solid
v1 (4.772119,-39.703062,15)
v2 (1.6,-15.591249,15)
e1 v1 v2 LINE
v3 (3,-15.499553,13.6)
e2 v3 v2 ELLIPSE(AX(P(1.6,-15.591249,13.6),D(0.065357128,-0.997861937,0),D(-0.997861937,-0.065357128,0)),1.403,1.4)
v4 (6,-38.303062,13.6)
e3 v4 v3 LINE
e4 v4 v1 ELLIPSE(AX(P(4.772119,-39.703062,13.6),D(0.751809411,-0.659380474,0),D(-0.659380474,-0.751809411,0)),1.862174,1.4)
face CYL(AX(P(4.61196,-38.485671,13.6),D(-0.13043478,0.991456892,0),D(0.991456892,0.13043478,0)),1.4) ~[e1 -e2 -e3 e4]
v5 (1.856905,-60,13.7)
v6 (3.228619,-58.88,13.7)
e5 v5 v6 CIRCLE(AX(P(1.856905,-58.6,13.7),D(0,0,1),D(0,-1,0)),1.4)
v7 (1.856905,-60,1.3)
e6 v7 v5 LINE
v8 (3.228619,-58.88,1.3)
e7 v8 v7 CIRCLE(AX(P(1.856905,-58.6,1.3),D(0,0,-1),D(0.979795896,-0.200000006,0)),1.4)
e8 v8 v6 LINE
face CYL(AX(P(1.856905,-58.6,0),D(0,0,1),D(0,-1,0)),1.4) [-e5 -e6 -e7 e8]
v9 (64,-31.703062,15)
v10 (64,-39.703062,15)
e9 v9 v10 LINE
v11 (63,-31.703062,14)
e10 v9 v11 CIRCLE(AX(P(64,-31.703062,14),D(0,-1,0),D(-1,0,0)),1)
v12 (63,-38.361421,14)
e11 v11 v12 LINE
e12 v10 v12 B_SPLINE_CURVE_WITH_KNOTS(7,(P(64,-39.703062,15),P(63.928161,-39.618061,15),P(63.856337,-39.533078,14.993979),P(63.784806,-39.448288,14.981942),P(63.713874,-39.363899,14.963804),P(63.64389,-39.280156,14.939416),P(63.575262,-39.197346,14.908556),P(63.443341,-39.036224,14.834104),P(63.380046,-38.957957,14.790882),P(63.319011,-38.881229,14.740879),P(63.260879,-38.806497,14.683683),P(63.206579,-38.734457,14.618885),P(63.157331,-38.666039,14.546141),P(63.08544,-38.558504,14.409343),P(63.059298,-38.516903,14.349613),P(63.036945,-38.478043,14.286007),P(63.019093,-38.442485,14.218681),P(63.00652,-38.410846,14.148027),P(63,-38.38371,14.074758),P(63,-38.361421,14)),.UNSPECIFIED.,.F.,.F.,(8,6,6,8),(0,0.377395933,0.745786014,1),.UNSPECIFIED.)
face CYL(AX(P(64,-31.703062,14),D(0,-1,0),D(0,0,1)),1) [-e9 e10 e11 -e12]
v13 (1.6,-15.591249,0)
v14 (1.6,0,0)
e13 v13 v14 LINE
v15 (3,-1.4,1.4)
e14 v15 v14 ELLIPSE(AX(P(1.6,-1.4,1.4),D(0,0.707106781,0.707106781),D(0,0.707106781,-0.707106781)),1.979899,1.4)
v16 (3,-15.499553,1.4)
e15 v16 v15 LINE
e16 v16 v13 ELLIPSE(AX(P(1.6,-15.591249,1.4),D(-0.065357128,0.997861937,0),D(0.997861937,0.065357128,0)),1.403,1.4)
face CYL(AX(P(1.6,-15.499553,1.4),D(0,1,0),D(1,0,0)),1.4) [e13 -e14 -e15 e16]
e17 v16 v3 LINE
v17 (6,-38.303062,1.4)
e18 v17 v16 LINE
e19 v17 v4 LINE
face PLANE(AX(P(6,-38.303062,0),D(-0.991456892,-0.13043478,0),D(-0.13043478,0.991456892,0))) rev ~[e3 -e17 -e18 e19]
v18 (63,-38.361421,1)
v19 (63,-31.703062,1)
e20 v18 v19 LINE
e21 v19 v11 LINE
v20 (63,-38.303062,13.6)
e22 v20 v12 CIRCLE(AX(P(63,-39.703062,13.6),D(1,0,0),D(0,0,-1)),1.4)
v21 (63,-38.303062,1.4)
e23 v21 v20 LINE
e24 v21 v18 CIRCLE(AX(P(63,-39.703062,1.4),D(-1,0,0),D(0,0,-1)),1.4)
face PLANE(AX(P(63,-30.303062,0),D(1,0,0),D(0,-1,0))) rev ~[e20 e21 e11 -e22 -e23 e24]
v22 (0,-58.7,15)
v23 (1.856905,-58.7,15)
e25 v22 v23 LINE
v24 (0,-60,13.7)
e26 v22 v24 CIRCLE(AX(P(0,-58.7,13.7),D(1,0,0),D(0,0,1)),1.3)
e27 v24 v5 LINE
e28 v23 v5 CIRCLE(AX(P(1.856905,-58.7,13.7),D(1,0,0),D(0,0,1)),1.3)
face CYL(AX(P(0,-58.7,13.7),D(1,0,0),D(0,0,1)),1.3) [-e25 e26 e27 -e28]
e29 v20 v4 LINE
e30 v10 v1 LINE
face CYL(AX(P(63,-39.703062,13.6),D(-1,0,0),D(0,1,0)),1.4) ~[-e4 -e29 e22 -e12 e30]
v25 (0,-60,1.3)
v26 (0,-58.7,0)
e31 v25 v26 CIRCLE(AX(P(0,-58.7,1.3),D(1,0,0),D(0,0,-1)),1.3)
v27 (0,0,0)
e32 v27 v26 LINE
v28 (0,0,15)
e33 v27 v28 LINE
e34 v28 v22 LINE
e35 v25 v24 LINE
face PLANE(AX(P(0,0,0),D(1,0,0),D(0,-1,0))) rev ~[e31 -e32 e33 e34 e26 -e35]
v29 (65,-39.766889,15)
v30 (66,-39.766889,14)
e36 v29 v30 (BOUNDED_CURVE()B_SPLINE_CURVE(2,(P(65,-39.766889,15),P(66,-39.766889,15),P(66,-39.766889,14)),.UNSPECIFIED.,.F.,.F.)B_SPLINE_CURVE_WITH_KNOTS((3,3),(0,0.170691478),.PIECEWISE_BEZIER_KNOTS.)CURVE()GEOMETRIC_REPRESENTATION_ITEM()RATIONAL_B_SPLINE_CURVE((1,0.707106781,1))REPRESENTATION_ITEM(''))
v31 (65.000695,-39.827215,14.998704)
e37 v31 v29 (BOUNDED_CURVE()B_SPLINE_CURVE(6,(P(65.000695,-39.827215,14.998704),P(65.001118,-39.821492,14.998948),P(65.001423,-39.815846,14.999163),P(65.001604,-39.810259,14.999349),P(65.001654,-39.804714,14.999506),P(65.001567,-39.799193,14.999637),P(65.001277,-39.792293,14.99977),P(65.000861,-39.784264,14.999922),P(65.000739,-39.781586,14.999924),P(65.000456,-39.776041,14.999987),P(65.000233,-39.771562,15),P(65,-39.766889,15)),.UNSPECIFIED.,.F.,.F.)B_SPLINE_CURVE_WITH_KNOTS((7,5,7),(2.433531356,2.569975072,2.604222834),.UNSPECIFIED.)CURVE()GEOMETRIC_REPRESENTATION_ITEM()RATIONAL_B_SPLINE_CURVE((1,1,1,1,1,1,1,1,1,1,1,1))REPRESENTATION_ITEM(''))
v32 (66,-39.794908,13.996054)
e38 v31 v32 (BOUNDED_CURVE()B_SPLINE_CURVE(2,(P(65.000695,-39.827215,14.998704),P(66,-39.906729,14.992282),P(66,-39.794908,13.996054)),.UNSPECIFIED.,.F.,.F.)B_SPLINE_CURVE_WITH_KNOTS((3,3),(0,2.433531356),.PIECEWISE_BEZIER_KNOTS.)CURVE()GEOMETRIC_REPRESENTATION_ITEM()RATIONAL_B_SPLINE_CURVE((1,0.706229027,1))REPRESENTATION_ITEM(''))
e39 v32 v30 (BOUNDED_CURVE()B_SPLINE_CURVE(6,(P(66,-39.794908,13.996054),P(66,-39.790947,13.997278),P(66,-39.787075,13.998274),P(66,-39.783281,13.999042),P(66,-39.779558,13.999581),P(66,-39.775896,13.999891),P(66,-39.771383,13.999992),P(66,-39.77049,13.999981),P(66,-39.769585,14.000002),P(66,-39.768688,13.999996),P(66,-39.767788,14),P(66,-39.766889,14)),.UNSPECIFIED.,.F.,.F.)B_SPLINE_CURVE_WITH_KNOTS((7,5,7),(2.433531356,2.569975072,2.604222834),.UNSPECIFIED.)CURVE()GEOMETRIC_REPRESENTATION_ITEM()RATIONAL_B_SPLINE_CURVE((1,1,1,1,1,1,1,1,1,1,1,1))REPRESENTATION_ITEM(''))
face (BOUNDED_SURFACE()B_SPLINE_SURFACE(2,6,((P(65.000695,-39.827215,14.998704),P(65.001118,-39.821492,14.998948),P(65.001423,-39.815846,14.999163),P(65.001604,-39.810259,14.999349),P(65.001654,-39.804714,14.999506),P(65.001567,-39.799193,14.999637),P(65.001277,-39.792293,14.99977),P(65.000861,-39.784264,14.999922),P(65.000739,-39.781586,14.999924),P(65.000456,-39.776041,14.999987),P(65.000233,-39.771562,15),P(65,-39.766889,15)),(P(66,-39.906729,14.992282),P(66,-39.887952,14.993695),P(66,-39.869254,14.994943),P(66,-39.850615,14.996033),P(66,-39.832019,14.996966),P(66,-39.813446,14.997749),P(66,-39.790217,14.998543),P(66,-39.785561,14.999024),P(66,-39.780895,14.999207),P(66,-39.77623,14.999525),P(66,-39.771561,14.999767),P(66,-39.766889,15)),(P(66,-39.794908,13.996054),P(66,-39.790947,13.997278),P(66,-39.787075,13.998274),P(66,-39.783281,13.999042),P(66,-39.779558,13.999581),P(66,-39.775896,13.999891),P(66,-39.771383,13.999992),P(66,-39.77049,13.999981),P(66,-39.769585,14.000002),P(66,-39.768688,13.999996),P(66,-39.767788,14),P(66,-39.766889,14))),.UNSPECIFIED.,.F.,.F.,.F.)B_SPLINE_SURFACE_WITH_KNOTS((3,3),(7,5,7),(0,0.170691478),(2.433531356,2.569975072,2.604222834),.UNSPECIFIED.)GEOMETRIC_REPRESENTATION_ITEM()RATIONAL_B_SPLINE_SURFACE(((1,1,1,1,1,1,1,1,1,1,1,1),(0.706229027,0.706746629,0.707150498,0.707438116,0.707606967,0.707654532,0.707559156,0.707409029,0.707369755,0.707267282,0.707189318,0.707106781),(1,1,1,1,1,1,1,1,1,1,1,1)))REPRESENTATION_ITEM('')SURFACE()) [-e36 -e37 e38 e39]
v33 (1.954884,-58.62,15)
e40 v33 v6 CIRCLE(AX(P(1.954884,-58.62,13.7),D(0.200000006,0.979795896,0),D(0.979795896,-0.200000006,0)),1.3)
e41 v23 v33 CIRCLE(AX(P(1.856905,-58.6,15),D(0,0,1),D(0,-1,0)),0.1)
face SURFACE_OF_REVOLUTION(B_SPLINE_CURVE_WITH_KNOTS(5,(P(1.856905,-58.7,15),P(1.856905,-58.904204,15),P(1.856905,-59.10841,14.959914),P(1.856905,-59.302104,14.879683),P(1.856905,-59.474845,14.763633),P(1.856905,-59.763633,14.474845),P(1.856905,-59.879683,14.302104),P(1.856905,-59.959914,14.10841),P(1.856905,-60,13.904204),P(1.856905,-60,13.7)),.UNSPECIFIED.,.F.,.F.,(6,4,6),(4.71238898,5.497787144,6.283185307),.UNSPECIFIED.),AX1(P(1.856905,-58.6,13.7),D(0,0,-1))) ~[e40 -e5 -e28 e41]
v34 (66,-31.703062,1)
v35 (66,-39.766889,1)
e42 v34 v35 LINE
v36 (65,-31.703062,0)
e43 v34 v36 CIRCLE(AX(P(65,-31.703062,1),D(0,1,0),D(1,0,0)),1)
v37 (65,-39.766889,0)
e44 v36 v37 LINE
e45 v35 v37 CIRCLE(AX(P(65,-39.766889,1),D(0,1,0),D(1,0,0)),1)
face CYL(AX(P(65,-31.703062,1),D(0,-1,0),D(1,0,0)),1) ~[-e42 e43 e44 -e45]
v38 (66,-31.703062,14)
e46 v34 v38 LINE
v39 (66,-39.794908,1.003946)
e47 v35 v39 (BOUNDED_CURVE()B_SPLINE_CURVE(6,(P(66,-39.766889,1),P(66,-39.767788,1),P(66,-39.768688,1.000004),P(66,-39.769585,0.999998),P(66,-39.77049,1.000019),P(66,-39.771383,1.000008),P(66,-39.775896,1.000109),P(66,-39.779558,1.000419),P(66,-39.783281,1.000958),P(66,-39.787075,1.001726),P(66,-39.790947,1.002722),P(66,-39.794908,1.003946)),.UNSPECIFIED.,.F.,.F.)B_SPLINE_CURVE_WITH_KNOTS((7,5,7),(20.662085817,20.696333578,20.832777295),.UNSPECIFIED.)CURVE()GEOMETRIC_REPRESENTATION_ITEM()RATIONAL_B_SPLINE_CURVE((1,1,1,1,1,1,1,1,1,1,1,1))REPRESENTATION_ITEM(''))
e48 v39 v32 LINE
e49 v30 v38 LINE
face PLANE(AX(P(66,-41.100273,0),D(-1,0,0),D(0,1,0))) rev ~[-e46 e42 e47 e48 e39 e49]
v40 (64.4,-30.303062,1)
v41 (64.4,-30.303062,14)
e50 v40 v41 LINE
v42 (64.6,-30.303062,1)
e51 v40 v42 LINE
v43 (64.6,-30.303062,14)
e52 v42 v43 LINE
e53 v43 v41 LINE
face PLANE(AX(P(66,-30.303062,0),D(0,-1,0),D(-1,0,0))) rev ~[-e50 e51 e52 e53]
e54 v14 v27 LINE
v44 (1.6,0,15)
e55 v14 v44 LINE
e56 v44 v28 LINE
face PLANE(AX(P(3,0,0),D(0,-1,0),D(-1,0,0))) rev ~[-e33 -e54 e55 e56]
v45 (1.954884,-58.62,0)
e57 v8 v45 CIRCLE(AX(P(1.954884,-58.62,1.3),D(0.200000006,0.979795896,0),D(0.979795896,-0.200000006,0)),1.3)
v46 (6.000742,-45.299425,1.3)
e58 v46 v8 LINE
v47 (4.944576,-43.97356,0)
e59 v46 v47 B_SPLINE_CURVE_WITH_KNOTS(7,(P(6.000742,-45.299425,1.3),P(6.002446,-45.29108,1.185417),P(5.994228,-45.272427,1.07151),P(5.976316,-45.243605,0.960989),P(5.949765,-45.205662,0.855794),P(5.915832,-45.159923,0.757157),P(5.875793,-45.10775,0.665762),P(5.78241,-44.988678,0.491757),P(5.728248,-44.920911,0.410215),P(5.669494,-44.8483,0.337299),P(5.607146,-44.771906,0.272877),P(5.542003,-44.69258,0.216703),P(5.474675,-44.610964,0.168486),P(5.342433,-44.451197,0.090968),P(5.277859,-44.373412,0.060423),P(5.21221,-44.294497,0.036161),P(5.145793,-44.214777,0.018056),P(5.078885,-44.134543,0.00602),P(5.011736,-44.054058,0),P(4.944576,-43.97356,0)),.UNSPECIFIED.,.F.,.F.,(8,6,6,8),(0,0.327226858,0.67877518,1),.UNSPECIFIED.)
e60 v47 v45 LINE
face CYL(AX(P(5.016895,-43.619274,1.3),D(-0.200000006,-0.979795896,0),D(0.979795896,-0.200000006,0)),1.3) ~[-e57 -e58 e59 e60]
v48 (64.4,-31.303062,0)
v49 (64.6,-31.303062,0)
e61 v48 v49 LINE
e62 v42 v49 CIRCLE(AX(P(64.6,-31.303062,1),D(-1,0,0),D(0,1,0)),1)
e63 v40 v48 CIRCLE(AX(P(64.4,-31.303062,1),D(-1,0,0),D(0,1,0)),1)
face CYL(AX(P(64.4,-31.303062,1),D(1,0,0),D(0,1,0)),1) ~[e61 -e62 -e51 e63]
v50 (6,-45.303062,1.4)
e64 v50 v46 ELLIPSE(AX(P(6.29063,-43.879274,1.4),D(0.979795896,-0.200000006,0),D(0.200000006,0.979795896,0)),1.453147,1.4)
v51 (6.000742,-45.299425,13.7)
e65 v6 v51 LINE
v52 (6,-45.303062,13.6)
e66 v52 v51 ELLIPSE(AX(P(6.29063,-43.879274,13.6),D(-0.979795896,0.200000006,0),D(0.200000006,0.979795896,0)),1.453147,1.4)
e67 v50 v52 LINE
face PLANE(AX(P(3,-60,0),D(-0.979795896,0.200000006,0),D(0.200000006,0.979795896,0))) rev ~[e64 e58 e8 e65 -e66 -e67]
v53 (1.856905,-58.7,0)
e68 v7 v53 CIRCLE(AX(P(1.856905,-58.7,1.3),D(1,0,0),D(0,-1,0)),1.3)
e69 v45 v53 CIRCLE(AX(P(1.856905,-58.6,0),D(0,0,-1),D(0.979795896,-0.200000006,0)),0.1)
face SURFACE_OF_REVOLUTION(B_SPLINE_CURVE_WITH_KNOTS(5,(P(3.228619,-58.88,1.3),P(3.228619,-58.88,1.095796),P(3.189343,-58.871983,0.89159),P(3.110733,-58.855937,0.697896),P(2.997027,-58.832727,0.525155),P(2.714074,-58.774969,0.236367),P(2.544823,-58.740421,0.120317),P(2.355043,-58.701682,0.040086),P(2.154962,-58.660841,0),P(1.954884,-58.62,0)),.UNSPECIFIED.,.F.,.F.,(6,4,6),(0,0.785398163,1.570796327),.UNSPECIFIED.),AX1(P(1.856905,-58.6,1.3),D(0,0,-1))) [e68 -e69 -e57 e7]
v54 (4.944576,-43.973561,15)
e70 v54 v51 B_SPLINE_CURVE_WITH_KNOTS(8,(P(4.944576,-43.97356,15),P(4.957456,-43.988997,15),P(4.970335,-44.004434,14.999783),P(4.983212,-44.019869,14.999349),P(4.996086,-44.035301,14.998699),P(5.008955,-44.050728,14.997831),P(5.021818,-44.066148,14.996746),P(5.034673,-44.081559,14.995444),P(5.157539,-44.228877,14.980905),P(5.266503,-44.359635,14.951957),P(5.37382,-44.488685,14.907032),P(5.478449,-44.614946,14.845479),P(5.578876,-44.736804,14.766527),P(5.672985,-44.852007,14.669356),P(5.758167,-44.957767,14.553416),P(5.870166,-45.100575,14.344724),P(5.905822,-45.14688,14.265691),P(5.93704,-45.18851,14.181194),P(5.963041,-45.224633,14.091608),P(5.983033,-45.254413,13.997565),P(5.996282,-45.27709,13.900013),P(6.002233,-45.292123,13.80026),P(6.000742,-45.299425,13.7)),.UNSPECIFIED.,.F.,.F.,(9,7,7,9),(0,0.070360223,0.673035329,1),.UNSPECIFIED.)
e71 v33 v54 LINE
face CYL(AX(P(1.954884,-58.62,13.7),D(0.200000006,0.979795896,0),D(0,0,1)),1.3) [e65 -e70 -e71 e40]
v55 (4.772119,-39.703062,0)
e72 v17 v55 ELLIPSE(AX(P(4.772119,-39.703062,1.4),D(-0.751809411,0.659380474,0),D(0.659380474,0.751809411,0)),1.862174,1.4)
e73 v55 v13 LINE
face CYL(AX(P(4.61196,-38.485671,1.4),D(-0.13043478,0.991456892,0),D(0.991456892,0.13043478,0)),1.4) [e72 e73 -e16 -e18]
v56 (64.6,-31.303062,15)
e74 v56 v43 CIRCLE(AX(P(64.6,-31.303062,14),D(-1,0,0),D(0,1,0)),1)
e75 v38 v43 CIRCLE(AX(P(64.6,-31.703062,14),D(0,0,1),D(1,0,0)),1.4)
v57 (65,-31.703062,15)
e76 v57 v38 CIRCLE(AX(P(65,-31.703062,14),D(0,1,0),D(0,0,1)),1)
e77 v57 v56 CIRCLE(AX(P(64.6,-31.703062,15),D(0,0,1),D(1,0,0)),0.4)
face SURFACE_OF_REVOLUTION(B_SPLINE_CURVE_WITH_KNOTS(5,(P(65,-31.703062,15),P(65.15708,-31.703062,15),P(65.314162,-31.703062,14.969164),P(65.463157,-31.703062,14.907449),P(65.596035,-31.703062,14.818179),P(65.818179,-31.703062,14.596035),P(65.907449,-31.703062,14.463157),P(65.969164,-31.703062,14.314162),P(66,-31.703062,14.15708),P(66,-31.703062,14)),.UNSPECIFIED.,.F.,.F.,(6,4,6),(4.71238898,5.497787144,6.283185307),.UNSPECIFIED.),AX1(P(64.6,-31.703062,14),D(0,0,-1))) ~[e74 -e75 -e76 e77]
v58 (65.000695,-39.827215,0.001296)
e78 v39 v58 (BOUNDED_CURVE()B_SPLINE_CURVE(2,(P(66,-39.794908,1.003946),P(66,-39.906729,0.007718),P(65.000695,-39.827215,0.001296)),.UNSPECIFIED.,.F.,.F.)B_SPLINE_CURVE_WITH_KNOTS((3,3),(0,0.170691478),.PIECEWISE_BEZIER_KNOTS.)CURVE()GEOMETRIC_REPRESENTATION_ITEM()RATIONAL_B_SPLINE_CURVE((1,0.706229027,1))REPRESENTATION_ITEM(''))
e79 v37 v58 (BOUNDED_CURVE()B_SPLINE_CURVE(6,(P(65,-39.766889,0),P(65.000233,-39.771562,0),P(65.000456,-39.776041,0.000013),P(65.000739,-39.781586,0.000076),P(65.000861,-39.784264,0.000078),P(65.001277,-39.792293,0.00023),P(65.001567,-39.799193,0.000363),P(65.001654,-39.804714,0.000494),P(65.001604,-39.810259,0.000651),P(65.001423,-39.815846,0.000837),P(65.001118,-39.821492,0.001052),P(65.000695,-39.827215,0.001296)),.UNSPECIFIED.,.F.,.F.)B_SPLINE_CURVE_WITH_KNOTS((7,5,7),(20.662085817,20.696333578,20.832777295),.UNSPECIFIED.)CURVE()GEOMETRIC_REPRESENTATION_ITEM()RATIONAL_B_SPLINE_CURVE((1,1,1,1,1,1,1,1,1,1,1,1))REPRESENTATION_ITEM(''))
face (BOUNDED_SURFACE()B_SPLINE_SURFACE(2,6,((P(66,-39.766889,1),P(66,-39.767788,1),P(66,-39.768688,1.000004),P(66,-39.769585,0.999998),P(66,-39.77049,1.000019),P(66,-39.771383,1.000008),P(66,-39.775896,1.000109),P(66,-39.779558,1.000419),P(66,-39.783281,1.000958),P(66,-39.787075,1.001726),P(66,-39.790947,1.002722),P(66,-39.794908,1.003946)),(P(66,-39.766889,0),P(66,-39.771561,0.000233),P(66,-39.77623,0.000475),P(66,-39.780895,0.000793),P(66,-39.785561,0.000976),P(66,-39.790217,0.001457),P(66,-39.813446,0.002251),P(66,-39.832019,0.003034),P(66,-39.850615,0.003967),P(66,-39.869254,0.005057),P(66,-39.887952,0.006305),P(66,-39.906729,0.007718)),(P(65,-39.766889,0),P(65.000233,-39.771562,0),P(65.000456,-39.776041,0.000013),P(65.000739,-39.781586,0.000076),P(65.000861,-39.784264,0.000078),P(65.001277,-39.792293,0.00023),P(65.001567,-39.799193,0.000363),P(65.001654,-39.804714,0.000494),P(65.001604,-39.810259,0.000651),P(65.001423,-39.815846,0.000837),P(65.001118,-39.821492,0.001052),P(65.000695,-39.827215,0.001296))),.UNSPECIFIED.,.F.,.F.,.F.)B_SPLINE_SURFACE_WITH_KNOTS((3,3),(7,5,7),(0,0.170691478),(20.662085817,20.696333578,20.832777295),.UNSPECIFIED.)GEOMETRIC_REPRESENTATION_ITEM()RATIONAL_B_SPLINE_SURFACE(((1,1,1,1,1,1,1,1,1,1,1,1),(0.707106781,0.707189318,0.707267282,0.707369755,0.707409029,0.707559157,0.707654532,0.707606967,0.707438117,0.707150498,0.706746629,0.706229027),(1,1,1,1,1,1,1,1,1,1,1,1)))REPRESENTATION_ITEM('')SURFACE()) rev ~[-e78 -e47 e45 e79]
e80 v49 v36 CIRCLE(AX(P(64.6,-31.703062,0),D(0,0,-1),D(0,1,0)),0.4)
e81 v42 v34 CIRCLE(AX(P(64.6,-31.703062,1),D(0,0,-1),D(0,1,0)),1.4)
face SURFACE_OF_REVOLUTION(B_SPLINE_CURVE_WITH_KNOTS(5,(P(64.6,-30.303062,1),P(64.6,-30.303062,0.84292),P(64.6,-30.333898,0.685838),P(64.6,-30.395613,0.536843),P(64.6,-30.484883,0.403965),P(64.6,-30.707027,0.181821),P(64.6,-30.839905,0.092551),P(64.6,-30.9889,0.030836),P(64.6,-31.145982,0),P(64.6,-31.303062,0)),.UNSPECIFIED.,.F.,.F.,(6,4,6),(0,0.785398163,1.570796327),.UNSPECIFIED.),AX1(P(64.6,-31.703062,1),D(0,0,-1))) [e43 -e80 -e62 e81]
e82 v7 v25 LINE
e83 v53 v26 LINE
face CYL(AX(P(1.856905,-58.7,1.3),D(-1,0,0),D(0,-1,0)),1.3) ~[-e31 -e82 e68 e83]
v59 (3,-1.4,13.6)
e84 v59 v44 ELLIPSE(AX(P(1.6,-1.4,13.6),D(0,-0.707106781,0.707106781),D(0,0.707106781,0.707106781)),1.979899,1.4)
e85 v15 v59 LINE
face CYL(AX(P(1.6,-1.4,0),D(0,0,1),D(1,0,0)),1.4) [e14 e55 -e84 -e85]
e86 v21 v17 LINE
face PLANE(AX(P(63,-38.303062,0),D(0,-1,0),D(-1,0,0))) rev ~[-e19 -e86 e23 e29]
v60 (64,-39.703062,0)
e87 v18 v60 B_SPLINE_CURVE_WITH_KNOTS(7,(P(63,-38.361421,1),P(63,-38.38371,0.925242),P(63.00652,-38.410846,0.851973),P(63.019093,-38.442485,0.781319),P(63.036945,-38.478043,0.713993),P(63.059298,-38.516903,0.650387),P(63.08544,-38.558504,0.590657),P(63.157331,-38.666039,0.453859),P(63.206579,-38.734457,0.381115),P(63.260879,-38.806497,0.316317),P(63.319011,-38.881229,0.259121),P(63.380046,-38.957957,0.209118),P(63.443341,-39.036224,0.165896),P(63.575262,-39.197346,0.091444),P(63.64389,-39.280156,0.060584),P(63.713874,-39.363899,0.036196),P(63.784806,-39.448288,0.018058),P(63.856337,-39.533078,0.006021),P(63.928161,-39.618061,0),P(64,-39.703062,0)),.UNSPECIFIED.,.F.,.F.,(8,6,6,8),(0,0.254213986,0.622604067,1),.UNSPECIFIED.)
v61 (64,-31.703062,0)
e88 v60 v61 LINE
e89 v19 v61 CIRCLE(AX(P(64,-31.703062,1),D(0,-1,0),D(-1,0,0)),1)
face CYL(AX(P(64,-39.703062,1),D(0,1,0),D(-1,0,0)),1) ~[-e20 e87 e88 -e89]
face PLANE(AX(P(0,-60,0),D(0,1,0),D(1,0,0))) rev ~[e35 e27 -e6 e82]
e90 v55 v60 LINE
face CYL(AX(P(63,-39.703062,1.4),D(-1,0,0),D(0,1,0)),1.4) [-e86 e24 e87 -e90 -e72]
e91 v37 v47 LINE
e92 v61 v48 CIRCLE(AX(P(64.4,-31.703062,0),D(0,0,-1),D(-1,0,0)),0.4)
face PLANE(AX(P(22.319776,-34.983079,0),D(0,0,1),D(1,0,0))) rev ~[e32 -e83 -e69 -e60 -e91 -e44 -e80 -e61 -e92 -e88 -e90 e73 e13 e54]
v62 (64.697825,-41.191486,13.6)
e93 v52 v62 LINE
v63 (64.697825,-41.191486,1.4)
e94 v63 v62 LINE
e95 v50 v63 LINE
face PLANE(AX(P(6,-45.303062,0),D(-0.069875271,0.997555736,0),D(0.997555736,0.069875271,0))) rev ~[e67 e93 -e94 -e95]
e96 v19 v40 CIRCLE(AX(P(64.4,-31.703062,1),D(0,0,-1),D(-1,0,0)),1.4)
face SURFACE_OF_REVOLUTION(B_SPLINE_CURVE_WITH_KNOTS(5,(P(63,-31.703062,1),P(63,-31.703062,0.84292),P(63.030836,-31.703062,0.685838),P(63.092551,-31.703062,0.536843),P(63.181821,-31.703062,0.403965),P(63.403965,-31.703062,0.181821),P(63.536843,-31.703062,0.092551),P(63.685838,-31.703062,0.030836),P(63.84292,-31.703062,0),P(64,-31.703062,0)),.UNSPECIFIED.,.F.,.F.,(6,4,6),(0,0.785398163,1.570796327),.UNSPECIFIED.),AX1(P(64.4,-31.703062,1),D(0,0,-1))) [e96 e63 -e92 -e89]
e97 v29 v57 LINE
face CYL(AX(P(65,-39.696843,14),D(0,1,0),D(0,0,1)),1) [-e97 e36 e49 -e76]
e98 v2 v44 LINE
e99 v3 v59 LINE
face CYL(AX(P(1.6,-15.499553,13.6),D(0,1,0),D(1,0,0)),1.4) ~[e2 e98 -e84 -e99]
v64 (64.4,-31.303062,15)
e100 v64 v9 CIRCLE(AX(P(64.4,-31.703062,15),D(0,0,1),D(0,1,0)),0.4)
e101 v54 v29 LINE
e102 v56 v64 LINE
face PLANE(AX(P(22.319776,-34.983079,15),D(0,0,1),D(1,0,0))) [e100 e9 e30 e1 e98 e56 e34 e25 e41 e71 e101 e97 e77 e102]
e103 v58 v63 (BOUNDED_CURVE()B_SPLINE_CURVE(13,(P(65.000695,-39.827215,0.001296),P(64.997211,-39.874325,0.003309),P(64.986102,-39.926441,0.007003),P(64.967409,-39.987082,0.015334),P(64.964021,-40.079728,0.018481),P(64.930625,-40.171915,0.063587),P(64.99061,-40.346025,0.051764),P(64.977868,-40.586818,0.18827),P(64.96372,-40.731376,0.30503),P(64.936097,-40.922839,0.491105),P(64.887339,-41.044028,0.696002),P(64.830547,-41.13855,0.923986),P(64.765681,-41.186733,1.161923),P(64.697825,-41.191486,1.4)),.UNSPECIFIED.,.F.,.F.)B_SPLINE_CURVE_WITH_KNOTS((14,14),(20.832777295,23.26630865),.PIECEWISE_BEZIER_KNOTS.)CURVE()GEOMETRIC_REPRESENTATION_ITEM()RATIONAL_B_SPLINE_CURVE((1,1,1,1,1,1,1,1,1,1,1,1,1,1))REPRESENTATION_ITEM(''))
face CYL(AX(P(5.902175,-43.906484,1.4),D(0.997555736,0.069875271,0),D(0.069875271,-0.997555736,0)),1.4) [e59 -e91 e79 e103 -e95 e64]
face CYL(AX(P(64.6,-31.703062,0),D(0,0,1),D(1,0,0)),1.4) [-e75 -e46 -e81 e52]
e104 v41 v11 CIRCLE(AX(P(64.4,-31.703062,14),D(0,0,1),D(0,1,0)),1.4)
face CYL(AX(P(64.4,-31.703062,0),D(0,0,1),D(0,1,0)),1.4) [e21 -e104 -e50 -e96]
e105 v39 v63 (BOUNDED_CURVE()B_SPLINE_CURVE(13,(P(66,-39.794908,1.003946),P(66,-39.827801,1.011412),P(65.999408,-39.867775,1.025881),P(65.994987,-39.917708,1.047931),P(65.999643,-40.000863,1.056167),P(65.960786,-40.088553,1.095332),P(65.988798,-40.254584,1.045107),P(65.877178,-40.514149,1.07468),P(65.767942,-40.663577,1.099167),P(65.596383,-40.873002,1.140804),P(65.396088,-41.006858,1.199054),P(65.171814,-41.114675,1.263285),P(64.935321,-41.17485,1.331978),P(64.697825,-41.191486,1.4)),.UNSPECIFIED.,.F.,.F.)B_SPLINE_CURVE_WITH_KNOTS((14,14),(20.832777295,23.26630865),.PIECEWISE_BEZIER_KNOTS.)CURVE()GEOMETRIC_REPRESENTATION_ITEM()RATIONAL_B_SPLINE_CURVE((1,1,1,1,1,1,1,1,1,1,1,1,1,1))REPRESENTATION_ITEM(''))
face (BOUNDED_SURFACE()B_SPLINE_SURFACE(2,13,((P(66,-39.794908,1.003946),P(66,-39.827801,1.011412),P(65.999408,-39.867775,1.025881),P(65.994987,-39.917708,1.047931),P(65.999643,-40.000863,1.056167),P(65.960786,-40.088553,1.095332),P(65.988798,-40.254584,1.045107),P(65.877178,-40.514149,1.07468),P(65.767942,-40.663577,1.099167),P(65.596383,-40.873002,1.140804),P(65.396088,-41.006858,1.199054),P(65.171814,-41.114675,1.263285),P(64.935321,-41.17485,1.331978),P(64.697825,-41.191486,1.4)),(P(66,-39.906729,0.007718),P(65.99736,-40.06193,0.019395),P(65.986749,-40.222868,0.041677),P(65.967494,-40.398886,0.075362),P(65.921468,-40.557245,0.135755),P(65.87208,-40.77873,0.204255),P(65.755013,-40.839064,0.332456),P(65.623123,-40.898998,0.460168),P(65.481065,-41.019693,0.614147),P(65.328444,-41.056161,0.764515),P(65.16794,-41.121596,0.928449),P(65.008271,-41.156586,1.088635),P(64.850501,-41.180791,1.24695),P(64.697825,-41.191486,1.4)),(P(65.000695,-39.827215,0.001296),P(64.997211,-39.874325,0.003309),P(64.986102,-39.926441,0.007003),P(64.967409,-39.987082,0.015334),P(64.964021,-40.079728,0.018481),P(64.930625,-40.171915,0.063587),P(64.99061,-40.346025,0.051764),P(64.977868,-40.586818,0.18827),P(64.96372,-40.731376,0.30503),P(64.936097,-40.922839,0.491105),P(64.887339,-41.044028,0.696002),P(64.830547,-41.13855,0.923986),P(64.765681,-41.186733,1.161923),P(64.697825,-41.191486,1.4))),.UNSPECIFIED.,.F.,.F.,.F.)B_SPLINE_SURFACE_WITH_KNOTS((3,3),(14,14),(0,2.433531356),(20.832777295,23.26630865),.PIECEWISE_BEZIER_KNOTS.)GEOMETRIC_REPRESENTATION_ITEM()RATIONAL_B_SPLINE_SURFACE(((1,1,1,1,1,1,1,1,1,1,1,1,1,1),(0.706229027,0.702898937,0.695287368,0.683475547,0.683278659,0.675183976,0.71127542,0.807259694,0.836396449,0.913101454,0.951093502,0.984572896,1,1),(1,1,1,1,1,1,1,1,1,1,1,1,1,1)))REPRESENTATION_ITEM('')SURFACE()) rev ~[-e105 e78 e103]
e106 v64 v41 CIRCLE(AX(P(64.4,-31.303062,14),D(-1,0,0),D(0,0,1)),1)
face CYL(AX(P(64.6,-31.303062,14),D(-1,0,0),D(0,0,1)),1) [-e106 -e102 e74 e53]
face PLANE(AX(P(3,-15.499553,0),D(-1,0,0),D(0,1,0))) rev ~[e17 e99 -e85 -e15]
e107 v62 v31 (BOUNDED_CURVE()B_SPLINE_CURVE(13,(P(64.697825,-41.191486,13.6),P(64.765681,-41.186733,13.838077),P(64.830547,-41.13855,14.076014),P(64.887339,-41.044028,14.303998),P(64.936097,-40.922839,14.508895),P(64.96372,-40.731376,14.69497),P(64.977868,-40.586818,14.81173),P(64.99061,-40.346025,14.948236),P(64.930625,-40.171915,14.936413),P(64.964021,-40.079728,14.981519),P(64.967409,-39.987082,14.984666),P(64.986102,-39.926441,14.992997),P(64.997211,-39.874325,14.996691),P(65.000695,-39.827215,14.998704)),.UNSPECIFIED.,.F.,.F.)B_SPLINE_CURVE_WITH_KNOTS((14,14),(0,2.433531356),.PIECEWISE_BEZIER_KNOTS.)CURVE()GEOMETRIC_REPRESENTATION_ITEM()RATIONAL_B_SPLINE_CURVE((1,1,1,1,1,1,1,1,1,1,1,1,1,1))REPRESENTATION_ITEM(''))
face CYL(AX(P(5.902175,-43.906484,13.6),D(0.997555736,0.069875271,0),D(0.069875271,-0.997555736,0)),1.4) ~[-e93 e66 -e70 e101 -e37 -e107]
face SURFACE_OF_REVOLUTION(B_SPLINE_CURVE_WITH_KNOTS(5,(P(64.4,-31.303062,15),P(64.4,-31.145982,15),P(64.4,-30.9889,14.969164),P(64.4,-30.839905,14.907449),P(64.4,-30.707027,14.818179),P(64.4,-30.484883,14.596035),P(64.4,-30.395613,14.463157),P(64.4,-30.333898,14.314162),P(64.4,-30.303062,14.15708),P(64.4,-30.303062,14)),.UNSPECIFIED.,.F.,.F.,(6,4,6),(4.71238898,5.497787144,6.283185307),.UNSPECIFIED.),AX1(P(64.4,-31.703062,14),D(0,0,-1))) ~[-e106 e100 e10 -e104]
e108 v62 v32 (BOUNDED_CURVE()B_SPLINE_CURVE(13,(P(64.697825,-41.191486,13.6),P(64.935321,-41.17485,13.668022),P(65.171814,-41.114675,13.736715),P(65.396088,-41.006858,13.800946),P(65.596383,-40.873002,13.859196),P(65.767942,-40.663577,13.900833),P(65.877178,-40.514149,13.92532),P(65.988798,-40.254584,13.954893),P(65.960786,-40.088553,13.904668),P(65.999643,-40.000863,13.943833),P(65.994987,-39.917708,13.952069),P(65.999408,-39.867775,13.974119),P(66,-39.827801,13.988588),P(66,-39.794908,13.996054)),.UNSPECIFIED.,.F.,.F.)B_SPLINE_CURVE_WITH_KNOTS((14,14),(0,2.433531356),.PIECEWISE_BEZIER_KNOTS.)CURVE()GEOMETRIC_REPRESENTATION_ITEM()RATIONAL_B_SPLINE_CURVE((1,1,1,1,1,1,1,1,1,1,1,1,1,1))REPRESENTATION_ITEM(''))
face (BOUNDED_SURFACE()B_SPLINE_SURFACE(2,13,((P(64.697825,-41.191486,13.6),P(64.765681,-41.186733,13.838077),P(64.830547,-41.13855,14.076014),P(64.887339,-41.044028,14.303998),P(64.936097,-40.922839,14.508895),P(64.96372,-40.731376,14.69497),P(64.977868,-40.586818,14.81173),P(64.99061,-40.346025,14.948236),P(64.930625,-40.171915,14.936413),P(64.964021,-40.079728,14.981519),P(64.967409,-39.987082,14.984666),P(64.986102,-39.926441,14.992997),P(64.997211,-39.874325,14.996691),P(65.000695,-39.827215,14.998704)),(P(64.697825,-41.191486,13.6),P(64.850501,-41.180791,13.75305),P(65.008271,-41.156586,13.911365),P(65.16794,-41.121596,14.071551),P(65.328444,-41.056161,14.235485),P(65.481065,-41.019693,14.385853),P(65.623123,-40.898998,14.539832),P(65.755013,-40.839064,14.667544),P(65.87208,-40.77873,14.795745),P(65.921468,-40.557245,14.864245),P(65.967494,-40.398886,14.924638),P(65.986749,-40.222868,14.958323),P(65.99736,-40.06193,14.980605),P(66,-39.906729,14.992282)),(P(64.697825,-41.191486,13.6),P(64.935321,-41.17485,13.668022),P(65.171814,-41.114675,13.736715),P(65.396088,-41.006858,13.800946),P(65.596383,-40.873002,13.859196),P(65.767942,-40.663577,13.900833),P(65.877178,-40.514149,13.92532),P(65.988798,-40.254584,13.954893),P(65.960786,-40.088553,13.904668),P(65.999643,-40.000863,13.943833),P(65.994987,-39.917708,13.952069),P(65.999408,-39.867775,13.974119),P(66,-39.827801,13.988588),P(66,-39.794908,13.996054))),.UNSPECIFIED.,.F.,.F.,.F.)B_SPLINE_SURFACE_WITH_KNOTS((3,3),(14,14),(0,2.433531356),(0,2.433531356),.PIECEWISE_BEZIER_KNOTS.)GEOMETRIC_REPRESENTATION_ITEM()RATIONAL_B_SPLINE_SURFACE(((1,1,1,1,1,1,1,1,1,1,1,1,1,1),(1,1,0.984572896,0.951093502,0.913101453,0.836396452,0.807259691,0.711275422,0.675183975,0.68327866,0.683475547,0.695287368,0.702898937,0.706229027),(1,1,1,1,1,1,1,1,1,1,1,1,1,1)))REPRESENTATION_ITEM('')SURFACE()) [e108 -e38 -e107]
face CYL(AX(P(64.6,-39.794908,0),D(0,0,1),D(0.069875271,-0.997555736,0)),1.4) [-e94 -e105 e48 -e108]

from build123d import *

# Parameters (mm, degrees)
PAD_DEPTH   = 15
FILLET_R    = 1.4
FILLET001_R = 1
FILLET002_R = 1.3


with BuildPart() as part:
    # Sketch → Pad (new body)
    with BuildSketch(Plane.XY):
        Polygon((0, 0), (0, -60), (3, -60), (6, -45.303062), (66, -41.100273), (66, -30.303062), (63, -30.303062), (63, -38.303062), (6, -38.303062), (3, -15.499553), (3, 0), align=None)
    extrude(amount=PAD_DEPTH)

    # Fillet
    fillet_edges = [part.edges().sort_by_distance(p)[0] for p in [
        (34.5, -38.303062, 15),
        (4.5, -26.901307, 15),
        (3, -7.749777, 15),
        (3, -7.749777, 0),
        (4.5, -26.901307, 0),
        (34.5, -38.303062, 0),
        (63, -30.303062, 7.5),
        (66, -30.303062, 7.5),
        (66, -41.100273, 7.5),
        (3, -60, 7.5),
        (3, 0, 7.5),
        (36, -43.201667, 0),
        (36, -43.201667, 15),
    ]]
    fillet(fillet_edges, radius=FILLET_R)

    # Fillet001
    fillet001_edges = [part.edges().sort_by_distance(p)[0] for p in [
        (63, -35.003062, 0),
        (63, -35.003062, 15),
    ]]
    fillet(fillet001_edges, radius=FILLET001_R)

    # Fillet002
    fillet002_edges = [part.edges().sort_by_distance(p)[0] for p in [
        (4.61431, -52.091531, 15),
        (4.61431, -52.091531, 0),
    ]]
    fillet(fillet002_edges, radius=FILLET002_R)


solid = part.part
